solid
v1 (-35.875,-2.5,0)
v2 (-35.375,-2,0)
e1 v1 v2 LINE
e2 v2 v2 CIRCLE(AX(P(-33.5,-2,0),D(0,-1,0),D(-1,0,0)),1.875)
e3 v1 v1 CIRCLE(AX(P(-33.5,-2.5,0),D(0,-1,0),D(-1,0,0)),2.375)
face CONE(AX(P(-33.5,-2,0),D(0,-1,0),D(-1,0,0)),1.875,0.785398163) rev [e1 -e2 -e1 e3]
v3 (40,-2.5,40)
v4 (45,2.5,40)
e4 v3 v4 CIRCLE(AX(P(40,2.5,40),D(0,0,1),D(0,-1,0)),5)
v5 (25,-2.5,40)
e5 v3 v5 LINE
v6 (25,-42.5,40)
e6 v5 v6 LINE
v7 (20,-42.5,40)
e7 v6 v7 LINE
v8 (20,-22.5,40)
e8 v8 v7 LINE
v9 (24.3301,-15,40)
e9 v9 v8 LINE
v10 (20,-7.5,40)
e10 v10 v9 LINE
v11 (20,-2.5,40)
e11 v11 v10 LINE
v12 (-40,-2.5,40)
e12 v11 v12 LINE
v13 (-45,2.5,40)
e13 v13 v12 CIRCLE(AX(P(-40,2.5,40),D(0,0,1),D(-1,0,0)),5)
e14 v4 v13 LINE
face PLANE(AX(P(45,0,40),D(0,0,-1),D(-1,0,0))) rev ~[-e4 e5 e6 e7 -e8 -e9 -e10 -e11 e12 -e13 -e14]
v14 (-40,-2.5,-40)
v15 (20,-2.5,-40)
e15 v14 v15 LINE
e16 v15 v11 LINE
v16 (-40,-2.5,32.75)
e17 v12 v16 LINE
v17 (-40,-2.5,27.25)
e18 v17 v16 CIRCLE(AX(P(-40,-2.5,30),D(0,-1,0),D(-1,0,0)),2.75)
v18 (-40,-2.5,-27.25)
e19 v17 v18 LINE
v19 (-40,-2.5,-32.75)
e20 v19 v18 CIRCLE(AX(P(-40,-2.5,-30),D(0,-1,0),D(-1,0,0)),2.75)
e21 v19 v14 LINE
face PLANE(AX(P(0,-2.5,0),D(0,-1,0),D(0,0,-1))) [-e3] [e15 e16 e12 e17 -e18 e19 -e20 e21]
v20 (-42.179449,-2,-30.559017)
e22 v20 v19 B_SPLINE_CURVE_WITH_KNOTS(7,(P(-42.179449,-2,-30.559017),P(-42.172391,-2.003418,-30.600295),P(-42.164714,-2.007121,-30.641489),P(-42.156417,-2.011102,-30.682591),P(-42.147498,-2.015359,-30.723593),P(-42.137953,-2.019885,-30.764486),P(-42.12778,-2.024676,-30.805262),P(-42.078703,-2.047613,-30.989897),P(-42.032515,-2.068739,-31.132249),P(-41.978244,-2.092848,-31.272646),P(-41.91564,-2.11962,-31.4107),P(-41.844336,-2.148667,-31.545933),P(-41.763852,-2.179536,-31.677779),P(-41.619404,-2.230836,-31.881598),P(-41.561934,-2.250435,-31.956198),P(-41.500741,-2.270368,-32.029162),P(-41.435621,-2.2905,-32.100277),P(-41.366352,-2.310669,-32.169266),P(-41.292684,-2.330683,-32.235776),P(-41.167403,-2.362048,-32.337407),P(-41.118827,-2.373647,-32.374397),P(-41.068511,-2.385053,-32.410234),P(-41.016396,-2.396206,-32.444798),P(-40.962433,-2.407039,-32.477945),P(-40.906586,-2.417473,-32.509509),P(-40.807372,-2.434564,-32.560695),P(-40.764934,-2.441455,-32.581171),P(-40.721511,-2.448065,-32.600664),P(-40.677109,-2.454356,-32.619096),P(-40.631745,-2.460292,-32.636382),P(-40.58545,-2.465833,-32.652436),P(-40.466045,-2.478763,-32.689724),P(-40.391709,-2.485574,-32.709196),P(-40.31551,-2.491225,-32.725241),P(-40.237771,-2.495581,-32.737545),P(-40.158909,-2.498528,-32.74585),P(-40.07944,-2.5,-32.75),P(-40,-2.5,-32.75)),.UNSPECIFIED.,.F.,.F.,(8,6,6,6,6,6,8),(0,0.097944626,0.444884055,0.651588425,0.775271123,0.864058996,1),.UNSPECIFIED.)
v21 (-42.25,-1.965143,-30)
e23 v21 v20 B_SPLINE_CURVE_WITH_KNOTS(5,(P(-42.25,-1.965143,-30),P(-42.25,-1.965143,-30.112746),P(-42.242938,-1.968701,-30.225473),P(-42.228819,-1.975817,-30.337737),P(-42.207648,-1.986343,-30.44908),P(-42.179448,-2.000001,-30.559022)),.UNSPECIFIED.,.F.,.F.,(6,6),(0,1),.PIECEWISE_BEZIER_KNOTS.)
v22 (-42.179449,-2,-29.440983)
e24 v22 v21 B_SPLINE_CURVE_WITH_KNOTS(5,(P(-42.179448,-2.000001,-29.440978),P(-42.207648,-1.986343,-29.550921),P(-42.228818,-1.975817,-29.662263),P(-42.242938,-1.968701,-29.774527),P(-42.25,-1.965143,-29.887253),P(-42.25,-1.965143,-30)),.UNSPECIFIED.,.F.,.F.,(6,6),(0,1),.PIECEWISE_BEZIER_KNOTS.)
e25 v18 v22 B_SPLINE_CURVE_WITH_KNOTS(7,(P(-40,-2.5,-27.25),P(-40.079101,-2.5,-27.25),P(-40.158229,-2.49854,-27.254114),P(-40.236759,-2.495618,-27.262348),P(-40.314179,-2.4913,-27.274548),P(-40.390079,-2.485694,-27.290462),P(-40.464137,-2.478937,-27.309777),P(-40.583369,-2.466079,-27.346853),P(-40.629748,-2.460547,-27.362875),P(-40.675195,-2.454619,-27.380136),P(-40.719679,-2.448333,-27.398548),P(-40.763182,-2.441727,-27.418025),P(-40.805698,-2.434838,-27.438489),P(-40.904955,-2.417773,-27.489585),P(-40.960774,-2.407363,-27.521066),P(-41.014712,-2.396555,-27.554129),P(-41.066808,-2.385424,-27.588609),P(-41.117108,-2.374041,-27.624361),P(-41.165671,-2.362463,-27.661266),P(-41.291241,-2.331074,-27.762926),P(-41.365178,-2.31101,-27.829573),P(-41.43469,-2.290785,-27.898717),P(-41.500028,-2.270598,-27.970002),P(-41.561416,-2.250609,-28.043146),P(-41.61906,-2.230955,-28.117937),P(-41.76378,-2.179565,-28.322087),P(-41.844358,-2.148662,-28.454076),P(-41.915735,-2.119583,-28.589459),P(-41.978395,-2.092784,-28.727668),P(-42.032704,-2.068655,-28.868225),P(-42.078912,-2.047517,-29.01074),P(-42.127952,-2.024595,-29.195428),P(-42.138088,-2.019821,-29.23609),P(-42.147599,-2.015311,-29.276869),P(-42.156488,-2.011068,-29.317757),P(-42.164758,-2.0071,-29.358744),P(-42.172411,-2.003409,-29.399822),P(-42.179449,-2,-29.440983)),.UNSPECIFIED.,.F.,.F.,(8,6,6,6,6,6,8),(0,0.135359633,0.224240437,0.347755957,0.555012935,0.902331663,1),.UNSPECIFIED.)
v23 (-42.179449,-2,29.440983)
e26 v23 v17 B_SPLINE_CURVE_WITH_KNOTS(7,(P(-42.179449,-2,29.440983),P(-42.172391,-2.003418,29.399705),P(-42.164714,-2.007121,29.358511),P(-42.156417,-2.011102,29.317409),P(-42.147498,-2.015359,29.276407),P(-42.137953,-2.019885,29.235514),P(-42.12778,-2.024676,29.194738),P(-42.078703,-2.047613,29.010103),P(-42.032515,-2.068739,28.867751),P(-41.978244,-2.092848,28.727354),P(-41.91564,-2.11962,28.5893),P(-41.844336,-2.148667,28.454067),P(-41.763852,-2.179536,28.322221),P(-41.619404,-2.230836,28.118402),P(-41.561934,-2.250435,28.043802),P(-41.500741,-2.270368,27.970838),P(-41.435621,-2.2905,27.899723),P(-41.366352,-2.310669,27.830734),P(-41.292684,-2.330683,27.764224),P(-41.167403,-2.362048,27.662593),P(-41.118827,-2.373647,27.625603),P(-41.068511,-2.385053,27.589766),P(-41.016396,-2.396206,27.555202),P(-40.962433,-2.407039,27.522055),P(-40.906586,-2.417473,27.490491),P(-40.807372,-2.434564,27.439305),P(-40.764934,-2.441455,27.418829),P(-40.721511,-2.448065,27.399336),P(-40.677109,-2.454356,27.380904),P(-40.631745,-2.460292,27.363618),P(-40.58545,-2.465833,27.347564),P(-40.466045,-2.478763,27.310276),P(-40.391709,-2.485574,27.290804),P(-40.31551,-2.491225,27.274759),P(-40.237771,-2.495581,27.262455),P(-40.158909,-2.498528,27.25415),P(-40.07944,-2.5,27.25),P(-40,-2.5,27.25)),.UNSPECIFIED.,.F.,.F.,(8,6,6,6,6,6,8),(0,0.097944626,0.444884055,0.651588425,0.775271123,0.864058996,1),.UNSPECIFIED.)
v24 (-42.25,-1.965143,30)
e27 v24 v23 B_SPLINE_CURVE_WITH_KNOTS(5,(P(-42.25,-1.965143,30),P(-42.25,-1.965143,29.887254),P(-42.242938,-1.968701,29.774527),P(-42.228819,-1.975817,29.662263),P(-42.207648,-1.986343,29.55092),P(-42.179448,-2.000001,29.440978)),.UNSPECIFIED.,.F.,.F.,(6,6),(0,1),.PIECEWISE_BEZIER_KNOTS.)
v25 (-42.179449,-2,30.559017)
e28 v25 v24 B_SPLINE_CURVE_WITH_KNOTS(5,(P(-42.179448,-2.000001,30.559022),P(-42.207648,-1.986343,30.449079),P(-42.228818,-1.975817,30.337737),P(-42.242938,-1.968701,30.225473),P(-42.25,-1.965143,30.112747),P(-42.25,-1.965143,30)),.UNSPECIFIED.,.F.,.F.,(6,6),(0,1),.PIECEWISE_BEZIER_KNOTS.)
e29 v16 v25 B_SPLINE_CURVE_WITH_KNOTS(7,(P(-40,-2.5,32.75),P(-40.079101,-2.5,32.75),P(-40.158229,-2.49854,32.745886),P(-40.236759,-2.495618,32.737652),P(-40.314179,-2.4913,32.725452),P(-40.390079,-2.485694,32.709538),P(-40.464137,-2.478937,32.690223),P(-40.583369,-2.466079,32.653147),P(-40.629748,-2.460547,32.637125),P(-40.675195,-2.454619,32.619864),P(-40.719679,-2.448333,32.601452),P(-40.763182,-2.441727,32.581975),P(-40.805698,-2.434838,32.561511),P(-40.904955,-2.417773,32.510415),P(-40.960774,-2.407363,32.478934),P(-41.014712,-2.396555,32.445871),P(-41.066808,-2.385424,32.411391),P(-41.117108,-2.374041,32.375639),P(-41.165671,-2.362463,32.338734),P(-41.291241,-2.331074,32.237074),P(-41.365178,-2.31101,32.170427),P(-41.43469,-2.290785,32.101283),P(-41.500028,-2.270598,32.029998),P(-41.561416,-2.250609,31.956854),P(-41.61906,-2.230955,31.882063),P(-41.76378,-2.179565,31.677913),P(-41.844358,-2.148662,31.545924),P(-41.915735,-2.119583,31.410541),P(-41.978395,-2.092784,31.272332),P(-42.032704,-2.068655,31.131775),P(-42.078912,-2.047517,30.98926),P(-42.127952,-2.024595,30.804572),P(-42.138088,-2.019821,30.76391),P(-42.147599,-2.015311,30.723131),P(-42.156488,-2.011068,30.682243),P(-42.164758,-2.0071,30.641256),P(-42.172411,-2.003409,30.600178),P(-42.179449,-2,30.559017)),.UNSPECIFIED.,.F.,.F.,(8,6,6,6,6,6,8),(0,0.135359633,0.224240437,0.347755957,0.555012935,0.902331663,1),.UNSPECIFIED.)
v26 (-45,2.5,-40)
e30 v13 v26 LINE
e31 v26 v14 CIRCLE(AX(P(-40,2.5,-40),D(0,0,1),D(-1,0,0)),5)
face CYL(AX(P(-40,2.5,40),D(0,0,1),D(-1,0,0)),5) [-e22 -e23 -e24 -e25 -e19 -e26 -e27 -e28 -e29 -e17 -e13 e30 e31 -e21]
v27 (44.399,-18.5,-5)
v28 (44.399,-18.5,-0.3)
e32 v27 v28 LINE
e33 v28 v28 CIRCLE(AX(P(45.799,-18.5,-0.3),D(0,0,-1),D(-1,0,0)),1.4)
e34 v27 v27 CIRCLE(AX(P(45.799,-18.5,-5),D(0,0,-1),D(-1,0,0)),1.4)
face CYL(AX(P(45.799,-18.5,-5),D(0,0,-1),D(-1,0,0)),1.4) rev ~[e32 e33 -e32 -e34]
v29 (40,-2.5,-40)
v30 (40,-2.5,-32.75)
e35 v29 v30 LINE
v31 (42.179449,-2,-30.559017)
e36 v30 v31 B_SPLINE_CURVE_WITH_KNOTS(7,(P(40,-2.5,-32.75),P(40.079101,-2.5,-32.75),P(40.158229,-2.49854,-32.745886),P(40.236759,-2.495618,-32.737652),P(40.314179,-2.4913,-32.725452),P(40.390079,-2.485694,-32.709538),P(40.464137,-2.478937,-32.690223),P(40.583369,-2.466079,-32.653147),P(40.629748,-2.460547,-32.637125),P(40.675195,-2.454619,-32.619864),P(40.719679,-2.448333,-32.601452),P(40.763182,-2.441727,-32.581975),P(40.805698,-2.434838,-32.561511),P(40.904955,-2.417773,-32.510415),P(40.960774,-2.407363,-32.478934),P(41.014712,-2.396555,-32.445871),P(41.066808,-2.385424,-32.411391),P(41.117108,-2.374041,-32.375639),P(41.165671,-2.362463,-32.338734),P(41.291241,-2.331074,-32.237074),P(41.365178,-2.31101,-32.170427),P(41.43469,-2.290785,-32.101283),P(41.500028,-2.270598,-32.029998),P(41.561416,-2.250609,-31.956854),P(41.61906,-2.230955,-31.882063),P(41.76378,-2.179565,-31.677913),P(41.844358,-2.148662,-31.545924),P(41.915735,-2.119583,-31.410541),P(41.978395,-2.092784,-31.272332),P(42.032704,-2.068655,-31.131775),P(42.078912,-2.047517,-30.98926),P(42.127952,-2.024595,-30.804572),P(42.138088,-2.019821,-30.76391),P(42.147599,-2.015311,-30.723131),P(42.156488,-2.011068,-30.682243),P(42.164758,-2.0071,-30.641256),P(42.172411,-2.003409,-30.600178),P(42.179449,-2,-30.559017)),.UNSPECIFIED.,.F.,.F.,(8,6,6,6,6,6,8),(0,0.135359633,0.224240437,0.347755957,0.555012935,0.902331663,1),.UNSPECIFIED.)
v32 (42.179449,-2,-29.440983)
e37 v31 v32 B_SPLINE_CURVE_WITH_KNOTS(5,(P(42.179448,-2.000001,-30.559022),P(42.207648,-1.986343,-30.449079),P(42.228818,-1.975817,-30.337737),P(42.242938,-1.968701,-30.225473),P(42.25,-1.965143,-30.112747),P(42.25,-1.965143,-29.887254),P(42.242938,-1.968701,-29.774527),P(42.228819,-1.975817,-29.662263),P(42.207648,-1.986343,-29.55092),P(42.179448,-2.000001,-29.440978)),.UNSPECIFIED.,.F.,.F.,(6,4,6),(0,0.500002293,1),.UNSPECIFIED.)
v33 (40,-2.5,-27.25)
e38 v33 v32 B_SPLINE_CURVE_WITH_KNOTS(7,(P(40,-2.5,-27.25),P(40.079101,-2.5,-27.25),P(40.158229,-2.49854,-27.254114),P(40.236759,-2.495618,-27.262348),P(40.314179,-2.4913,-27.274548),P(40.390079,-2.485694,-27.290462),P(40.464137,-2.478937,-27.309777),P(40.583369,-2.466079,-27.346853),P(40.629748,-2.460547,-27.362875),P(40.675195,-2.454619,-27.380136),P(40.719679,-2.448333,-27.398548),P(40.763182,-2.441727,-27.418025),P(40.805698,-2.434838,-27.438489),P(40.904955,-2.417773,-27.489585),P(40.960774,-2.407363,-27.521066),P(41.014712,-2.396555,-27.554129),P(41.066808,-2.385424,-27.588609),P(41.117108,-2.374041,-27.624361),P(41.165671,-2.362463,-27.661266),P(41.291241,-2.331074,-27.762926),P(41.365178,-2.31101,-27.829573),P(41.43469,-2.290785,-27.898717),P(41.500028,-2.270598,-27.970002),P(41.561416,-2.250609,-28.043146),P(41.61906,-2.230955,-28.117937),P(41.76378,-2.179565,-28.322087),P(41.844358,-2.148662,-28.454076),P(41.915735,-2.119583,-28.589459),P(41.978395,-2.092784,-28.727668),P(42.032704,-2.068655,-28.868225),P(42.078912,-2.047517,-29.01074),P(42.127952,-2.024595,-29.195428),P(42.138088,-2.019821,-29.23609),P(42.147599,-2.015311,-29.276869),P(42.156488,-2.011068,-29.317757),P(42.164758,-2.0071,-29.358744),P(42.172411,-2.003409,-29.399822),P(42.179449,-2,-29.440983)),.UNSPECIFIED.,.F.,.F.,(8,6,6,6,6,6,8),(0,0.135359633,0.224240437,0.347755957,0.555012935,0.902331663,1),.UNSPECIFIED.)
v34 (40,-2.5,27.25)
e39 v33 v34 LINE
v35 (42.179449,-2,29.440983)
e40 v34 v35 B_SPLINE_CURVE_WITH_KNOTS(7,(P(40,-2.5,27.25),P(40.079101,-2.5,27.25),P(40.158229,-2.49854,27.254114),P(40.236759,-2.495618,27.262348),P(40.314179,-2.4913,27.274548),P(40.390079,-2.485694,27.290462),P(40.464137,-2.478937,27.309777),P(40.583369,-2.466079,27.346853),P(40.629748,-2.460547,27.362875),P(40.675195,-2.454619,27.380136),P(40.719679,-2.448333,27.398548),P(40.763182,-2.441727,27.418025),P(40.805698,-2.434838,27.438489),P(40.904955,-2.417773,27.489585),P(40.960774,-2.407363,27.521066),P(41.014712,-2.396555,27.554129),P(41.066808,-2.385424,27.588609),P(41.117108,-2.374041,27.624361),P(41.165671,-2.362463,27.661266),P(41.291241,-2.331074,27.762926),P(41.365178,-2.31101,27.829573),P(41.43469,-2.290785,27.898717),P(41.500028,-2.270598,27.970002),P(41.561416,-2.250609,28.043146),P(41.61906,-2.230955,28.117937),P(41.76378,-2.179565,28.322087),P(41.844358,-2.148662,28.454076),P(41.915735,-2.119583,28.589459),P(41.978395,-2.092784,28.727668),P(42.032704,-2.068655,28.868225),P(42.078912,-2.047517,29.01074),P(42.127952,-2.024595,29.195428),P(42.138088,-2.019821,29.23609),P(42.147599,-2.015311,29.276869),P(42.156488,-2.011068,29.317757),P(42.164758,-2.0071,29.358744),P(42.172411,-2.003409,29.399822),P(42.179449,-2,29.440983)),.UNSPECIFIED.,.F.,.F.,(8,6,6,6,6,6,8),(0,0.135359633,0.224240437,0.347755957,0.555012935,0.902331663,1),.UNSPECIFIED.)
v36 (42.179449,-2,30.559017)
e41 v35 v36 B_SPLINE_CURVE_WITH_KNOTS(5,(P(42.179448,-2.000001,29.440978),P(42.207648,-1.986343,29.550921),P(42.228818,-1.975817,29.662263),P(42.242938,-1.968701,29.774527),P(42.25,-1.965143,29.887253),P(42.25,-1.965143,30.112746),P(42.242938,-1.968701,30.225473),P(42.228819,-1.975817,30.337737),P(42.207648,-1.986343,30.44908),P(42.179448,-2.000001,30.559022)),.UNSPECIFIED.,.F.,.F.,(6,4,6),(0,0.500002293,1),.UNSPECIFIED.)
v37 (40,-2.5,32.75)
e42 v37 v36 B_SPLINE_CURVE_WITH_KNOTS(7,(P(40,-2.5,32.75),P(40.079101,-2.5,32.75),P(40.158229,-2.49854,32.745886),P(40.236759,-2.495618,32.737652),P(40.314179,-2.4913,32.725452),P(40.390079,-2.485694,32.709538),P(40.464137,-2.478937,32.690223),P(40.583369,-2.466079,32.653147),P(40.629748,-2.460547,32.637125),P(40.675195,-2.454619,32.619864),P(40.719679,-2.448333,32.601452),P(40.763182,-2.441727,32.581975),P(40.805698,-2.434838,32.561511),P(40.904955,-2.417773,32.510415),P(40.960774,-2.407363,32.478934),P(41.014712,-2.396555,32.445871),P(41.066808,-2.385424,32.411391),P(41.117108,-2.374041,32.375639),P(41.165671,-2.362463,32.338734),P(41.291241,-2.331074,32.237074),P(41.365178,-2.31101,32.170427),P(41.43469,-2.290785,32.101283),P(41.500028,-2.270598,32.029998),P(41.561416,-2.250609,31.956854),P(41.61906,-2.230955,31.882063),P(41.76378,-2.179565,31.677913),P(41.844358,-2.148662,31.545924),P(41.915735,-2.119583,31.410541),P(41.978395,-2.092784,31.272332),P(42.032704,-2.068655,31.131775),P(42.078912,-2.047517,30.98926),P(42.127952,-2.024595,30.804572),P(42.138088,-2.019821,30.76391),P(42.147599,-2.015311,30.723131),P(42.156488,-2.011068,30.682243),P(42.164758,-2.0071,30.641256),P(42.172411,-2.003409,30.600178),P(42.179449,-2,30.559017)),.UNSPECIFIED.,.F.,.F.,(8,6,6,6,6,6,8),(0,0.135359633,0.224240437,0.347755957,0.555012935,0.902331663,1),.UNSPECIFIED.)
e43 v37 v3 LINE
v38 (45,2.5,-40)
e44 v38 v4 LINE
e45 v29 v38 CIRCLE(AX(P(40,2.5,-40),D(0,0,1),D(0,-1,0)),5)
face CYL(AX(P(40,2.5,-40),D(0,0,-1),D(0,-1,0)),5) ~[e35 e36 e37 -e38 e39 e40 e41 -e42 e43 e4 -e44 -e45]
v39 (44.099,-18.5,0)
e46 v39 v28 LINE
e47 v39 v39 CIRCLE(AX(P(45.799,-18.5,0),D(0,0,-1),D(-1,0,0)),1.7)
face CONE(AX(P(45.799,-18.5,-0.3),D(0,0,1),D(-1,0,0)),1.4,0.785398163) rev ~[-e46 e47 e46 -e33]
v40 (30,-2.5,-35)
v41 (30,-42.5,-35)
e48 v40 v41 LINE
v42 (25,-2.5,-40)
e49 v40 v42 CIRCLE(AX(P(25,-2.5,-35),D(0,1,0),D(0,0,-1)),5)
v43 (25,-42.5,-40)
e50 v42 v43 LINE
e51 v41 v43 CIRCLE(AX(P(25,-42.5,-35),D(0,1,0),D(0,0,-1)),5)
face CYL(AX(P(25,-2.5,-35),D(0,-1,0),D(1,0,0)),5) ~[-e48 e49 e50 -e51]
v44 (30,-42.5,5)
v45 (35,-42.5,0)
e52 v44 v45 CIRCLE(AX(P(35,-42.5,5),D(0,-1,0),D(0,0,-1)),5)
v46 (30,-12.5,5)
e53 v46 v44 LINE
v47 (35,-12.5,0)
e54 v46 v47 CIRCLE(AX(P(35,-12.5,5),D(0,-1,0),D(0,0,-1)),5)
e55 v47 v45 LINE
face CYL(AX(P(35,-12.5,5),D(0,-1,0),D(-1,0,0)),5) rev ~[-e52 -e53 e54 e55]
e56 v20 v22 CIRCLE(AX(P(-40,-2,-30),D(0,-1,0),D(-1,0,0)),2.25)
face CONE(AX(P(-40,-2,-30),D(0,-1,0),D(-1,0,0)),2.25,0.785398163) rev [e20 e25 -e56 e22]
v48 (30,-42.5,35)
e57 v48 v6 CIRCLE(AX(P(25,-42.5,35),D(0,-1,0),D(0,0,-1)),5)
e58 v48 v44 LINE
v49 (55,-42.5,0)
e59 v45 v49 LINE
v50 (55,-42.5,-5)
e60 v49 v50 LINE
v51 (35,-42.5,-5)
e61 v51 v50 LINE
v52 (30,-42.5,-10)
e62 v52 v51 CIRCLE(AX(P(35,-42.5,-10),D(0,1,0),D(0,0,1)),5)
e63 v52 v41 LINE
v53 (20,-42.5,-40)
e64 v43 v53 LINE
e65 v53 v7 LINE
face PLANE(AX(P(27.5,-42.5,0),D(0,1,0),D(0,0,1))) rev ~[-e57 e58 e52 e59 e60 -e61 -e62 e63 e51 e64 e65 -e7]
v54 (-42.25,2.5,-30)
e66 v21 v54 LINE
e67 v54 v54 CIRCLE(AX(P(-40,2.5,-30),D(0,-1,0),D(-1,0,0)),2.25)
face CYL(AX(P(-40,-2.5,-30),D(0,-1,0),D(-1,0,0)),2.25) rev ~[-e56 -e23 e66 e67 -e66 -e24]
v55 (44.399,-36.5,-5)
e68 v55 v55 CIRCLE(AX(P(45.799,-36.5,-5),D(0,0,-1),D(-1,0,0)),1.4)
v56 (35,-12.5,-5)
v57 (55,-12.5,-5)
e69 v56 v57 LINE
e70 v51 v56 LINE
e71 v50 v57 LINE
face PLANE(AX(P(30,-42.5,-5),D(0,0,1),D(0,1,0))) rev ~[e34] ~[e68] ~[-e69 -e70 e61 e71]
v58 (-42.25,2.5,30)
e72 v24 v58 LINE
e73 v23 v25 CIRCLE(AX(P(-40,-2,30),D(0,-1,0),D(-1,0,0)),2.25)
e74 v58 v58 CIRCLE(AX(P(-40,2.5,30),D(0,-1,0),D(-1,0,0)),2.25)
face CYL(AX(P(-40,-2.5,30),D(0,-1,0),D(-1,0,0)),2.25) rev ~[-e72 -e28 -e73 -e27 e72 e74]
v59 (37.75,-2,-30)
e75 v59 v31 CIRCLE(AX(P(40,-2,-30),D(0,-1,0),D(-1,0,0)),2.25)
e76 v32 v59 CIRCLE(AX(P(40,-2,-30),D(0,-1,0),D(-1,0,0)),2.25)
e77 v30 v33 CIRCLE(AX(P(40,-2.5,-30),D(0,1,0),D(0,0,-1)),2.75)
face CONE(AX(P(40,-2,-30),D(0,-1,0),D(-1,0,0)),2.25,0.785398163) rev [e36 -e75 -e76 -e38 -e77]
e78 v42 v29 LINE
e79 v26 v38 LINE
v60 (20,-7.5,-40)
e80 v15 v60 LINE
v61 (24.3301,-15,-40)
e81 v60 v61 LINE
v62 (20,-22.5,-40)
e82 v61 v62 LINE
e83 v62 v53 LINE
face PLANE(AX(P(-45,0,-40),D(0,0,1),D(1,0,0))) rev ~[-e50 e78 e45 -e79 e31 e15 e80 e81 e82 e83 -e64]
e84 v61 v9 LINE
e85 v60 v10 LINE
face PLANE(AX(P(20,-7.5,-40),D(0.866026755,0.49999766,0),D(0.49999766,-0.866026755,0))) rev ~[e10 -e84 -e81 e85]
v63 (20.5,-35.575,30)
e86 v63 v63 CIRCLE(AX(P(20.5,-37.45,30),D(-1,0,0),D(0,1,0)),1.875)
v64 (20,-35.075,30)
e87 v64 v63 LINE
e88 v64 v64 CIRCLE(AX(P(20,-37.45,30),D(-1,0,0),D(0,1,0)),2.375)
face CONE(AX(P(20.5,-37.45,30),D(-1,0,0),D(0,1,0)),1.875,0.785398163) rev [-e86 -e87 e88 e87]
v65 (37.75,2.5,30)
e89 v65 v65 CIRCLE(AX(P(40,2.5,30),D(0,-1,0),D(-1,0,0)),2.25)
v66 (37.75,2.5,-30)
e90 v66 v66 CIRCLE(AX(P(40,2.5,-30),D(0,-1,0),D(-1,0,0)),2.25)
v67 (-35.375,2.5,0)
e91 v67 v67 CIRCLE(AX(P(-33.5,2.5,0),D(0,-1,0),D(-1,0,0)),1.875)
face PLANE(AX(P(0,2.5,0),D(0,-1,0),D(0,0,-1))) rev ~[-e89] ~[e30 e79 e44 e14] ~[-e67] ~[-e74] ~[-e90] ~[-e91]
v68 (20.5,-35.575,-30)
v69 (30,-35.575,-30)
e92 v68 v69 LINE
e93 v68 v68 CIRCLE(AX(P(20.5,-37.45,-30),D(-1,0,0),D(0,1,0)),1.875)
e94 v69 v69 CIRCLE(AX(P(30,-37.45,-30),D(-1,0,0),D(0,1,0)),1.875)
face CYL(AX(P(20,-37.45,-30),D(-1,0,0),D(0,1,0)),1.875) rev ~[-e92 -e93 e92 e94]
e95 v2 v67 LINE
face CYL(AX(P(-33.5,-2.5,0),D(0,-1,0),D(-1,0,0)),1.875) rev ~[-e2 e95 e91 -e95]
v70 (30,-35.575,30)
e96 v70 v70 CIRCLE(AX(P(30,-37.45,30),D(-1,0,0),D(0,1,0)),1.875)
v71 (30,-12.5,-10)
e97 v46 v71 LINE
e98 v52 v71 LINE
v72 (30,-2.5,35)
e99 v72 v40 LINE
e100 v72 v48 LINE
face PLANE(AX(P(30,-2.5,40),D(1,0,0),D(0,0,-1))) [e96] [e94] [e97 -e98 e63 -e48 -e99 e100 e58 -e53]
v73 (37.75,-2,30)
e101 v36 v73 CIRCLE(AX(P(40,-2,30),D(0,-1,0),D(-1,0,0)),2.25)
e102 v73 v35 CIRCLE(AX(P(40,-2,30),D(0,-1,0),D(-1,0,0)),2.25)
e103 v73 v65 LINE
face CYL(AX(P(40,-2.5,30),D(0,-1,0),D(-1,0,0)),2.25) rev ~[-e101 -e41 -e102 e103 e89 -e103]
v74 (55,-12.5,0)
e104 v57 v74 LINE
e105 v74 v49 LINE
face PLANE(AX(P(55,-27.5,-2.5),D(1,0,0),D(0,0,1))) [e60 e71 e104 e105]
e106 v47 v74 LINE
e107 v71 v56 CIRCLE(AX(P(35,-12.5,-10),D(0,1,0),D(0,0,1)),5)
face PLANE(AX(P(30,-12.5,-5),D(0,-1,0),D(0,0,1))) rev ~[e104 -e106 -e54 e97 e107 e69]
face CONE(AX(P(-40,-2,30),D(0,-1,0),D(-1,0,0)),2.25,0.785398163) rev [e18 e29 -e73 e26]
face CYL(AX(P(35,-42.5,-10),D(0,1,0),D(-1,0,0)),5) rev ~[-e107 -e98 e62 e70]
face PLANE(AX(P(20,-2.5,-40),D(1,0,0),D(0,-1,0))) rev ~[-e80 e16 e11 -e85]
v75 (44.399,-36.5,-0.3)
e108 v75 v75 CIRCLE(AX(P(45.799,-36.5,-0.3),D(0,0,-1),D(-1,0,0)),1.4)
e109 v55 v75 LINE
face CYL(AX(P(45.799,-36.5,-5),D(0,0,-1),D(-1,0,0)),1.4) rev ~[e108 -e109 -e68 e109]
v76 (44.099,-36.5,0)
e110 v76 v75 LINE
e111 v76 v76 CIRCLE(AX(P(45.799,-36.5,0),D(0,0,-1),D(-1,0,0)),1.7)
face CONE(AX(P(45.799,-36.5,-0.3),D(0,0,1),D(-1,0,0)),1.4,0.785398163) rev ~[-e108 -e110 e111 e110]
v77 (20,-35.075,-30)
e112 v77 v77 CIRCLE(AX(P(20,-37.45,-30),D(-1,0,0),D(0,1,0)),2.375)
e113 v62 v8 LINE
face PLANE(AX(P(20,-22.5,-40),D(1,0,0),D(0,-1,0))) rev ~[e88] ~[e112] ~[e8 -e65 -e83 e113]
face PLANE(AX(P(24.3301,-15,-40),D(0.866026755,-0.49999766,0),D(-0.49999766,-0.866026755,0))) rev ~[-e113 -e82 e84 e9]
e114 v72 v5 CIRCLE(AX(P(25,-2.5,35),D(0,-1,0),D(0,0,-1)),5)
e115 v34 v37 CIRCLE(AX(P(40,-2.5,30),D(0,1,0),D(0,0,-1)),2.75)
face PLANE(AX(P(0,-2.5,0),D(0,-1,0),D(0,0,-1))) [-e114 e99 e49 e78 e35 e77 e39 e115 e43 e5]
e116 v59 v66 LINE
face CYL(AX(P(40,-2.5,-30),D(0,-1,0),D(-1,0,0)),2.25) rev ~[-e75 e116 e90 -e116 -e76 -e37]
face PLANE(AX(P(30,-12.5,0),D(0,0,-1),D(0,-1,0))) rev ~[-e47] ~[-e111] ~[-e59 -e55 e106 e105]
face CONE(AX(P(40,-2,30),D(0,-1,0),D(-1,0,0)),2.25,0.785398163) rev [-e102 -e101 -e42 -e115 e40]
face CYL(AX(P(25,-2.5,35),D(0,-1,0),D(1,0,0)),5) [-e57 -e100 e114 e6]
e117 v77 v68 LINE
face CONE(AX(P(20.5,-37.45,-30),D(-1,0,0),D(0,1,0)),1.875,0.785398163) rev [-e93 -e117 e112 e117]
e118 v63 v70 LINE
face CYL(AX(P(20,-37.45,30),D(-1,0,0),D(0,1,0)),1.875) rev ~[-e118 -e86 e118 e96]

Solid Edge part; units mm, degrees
sketch "Sketch1" plane through (0, 0, 0) normal (0, -1, 0) x (1, 0, 0)
  line L0 (-45, -40) -> (45, -40)
  line L1 (45, -40) -> (45, 40)
  line L2 (45, 40) -> (-45, 40)
  line L3 (-45, 40) -> (-45, -40)
  dimension "D1" = 80
  dimension "D2" = 90
extrude "Protrusion1" add sketch "Sketch1" along normal mid plane 5
sketch "Sketch2" plane through (35, -2.5, 0) normal (0, -1, 0) x (-1, 0, 0)
  circle A0 centre (-5, 30) radius 2.25
  circle A1 centre (75, 30) radius 2.25
  circle A2 centre (75, -30) radius 2.25
  circle A3 centre (-5, -30) radius 2.25
  dimension "D1" = 4.5
  dimension "D2" = 80
  dimension "D3" = 60
extrude "Cutout1" cut sketch "Sketch2" against normal through all
sketch "Sketch3" plane through (0, -2.5, 0) normal (0, -1, 0) x (-1, 0, 0)
  line L0 (-30, 40) -> (-25, 40)
  line L1 (-25, 40) -> (-25, -40)
  line L2 (-25, -40) -> (-30, -40)
  line L3 (-30, -40) -> (-30, 40)
  dimension "D1" = 5
  dimension "D2" = 15
extrude "Extrusionsausprägung_26" add sketch "Sketch3" along normal blind 40
sketch "Sketch4" plane through (0, -20, -40) normal (0, 0, -1) x (-1, 0, 0)
  line L0 (-25, 17.5) -> (-20, 17.5)
  line L1 (-20, 17.5) -> (-20, 12.5)
  line L2 (-20, 12.5) -> (-24.3301, 5)
  line L3 (-24.3301, 5) -> (-20, -2.5)
  line L4 (-20, -2.5) -> (-20, -22.5)
  line L5 (-20, -22.5) -> (-25, -22.5)
  line L6 (-25, -22.5) -> (-25, 17.5)
  dimension "D1" = 5
  dimension "D2" = 20
  dimension "D3" = 12.5
extrude "Protrusion2" add sketch "Sketch4" against normal up to vertex (80 mm away)
sketch "Sketch5" plane through (-12.5, -2.5, 0) normal (0, -1, 0) x (-1, 0, 0)
  circle A0 centre (21, 0) radius 1.875
  dimension "D1" = 3.75
  dimension "D2" = 11.5
extrude "Cutout2" cut sketch "Sketch5" against normal through all
sketch "Sketch6" plane through (20, -32.5, 0) normal (-1, 0, 0) x (0, 1, 0)
  circle A0 centre (-4.95, 30) radius 1.875
  circle A1 centre (-4.95, -30) radius 1.875
  dimension "D1" = 3.75
  dimension "D2" = 60
  dimension "D3" = 5.05
extrude "Cutout3" cut sketch "Sketch6" against normal through all
sketch "Sketch7" plane through (30, -22.5, 0) normal (1, 0, 0) x (0, -1, 0)
  line L0 (20, 5) -> (-10, 5)
  line L1 (-10, 5) -> (-10, 0)
  line L2 (-10, 0) -> (20, 0)
  line L3 (20, 0) -> (20, 5)
  dimension "D1" = 30
  dimension "D2" = 5
  dimension "D3" = 40
extrude "Extrusionsausprägung_28" add sketch "Sketch7" along normal blind 25
sketch "Sketch8" plane through (42.5, -27.5, -5) normal (0, 0, -1) x (-1, 0, 0)
  circle A0 centre (-3.299, 9) radius 1.4
  circle A1 centre (-3.299, -9) radius 1.4
  dimension "D1" = 2.8
  dimension "D2" = 18
  dimension "D3" = 9.201
extrude "Cutout4" cut sketch "Sketch8" against normal through all
chamfer "Fase_6" distance 0.5 angle 45 7 edges at (42.25, -2.5, -30) (42.25, -2.5, 30) (-37.75, -2.5, -30) (-37.75, -2.5, 30) (-31.625, -2.5, 0) (20, -39.325, 30) (20, -39.325, -30)
chamfer "Fase_7" distance 0.3 angle 45 2 edges at (47.199, -18.5, 0) (47.199, -36.5, 0)
fillet "Verrundung_6" radius 5 6 edges at (45, -2.5, 0) (-45, -2.5, 0) (30, -27.5, -5) (30, -27.5, 0) (30, -22.5, -40) (30, -22.5, 40)
properties part number "A7.2" material "Nylon, allgemein"
